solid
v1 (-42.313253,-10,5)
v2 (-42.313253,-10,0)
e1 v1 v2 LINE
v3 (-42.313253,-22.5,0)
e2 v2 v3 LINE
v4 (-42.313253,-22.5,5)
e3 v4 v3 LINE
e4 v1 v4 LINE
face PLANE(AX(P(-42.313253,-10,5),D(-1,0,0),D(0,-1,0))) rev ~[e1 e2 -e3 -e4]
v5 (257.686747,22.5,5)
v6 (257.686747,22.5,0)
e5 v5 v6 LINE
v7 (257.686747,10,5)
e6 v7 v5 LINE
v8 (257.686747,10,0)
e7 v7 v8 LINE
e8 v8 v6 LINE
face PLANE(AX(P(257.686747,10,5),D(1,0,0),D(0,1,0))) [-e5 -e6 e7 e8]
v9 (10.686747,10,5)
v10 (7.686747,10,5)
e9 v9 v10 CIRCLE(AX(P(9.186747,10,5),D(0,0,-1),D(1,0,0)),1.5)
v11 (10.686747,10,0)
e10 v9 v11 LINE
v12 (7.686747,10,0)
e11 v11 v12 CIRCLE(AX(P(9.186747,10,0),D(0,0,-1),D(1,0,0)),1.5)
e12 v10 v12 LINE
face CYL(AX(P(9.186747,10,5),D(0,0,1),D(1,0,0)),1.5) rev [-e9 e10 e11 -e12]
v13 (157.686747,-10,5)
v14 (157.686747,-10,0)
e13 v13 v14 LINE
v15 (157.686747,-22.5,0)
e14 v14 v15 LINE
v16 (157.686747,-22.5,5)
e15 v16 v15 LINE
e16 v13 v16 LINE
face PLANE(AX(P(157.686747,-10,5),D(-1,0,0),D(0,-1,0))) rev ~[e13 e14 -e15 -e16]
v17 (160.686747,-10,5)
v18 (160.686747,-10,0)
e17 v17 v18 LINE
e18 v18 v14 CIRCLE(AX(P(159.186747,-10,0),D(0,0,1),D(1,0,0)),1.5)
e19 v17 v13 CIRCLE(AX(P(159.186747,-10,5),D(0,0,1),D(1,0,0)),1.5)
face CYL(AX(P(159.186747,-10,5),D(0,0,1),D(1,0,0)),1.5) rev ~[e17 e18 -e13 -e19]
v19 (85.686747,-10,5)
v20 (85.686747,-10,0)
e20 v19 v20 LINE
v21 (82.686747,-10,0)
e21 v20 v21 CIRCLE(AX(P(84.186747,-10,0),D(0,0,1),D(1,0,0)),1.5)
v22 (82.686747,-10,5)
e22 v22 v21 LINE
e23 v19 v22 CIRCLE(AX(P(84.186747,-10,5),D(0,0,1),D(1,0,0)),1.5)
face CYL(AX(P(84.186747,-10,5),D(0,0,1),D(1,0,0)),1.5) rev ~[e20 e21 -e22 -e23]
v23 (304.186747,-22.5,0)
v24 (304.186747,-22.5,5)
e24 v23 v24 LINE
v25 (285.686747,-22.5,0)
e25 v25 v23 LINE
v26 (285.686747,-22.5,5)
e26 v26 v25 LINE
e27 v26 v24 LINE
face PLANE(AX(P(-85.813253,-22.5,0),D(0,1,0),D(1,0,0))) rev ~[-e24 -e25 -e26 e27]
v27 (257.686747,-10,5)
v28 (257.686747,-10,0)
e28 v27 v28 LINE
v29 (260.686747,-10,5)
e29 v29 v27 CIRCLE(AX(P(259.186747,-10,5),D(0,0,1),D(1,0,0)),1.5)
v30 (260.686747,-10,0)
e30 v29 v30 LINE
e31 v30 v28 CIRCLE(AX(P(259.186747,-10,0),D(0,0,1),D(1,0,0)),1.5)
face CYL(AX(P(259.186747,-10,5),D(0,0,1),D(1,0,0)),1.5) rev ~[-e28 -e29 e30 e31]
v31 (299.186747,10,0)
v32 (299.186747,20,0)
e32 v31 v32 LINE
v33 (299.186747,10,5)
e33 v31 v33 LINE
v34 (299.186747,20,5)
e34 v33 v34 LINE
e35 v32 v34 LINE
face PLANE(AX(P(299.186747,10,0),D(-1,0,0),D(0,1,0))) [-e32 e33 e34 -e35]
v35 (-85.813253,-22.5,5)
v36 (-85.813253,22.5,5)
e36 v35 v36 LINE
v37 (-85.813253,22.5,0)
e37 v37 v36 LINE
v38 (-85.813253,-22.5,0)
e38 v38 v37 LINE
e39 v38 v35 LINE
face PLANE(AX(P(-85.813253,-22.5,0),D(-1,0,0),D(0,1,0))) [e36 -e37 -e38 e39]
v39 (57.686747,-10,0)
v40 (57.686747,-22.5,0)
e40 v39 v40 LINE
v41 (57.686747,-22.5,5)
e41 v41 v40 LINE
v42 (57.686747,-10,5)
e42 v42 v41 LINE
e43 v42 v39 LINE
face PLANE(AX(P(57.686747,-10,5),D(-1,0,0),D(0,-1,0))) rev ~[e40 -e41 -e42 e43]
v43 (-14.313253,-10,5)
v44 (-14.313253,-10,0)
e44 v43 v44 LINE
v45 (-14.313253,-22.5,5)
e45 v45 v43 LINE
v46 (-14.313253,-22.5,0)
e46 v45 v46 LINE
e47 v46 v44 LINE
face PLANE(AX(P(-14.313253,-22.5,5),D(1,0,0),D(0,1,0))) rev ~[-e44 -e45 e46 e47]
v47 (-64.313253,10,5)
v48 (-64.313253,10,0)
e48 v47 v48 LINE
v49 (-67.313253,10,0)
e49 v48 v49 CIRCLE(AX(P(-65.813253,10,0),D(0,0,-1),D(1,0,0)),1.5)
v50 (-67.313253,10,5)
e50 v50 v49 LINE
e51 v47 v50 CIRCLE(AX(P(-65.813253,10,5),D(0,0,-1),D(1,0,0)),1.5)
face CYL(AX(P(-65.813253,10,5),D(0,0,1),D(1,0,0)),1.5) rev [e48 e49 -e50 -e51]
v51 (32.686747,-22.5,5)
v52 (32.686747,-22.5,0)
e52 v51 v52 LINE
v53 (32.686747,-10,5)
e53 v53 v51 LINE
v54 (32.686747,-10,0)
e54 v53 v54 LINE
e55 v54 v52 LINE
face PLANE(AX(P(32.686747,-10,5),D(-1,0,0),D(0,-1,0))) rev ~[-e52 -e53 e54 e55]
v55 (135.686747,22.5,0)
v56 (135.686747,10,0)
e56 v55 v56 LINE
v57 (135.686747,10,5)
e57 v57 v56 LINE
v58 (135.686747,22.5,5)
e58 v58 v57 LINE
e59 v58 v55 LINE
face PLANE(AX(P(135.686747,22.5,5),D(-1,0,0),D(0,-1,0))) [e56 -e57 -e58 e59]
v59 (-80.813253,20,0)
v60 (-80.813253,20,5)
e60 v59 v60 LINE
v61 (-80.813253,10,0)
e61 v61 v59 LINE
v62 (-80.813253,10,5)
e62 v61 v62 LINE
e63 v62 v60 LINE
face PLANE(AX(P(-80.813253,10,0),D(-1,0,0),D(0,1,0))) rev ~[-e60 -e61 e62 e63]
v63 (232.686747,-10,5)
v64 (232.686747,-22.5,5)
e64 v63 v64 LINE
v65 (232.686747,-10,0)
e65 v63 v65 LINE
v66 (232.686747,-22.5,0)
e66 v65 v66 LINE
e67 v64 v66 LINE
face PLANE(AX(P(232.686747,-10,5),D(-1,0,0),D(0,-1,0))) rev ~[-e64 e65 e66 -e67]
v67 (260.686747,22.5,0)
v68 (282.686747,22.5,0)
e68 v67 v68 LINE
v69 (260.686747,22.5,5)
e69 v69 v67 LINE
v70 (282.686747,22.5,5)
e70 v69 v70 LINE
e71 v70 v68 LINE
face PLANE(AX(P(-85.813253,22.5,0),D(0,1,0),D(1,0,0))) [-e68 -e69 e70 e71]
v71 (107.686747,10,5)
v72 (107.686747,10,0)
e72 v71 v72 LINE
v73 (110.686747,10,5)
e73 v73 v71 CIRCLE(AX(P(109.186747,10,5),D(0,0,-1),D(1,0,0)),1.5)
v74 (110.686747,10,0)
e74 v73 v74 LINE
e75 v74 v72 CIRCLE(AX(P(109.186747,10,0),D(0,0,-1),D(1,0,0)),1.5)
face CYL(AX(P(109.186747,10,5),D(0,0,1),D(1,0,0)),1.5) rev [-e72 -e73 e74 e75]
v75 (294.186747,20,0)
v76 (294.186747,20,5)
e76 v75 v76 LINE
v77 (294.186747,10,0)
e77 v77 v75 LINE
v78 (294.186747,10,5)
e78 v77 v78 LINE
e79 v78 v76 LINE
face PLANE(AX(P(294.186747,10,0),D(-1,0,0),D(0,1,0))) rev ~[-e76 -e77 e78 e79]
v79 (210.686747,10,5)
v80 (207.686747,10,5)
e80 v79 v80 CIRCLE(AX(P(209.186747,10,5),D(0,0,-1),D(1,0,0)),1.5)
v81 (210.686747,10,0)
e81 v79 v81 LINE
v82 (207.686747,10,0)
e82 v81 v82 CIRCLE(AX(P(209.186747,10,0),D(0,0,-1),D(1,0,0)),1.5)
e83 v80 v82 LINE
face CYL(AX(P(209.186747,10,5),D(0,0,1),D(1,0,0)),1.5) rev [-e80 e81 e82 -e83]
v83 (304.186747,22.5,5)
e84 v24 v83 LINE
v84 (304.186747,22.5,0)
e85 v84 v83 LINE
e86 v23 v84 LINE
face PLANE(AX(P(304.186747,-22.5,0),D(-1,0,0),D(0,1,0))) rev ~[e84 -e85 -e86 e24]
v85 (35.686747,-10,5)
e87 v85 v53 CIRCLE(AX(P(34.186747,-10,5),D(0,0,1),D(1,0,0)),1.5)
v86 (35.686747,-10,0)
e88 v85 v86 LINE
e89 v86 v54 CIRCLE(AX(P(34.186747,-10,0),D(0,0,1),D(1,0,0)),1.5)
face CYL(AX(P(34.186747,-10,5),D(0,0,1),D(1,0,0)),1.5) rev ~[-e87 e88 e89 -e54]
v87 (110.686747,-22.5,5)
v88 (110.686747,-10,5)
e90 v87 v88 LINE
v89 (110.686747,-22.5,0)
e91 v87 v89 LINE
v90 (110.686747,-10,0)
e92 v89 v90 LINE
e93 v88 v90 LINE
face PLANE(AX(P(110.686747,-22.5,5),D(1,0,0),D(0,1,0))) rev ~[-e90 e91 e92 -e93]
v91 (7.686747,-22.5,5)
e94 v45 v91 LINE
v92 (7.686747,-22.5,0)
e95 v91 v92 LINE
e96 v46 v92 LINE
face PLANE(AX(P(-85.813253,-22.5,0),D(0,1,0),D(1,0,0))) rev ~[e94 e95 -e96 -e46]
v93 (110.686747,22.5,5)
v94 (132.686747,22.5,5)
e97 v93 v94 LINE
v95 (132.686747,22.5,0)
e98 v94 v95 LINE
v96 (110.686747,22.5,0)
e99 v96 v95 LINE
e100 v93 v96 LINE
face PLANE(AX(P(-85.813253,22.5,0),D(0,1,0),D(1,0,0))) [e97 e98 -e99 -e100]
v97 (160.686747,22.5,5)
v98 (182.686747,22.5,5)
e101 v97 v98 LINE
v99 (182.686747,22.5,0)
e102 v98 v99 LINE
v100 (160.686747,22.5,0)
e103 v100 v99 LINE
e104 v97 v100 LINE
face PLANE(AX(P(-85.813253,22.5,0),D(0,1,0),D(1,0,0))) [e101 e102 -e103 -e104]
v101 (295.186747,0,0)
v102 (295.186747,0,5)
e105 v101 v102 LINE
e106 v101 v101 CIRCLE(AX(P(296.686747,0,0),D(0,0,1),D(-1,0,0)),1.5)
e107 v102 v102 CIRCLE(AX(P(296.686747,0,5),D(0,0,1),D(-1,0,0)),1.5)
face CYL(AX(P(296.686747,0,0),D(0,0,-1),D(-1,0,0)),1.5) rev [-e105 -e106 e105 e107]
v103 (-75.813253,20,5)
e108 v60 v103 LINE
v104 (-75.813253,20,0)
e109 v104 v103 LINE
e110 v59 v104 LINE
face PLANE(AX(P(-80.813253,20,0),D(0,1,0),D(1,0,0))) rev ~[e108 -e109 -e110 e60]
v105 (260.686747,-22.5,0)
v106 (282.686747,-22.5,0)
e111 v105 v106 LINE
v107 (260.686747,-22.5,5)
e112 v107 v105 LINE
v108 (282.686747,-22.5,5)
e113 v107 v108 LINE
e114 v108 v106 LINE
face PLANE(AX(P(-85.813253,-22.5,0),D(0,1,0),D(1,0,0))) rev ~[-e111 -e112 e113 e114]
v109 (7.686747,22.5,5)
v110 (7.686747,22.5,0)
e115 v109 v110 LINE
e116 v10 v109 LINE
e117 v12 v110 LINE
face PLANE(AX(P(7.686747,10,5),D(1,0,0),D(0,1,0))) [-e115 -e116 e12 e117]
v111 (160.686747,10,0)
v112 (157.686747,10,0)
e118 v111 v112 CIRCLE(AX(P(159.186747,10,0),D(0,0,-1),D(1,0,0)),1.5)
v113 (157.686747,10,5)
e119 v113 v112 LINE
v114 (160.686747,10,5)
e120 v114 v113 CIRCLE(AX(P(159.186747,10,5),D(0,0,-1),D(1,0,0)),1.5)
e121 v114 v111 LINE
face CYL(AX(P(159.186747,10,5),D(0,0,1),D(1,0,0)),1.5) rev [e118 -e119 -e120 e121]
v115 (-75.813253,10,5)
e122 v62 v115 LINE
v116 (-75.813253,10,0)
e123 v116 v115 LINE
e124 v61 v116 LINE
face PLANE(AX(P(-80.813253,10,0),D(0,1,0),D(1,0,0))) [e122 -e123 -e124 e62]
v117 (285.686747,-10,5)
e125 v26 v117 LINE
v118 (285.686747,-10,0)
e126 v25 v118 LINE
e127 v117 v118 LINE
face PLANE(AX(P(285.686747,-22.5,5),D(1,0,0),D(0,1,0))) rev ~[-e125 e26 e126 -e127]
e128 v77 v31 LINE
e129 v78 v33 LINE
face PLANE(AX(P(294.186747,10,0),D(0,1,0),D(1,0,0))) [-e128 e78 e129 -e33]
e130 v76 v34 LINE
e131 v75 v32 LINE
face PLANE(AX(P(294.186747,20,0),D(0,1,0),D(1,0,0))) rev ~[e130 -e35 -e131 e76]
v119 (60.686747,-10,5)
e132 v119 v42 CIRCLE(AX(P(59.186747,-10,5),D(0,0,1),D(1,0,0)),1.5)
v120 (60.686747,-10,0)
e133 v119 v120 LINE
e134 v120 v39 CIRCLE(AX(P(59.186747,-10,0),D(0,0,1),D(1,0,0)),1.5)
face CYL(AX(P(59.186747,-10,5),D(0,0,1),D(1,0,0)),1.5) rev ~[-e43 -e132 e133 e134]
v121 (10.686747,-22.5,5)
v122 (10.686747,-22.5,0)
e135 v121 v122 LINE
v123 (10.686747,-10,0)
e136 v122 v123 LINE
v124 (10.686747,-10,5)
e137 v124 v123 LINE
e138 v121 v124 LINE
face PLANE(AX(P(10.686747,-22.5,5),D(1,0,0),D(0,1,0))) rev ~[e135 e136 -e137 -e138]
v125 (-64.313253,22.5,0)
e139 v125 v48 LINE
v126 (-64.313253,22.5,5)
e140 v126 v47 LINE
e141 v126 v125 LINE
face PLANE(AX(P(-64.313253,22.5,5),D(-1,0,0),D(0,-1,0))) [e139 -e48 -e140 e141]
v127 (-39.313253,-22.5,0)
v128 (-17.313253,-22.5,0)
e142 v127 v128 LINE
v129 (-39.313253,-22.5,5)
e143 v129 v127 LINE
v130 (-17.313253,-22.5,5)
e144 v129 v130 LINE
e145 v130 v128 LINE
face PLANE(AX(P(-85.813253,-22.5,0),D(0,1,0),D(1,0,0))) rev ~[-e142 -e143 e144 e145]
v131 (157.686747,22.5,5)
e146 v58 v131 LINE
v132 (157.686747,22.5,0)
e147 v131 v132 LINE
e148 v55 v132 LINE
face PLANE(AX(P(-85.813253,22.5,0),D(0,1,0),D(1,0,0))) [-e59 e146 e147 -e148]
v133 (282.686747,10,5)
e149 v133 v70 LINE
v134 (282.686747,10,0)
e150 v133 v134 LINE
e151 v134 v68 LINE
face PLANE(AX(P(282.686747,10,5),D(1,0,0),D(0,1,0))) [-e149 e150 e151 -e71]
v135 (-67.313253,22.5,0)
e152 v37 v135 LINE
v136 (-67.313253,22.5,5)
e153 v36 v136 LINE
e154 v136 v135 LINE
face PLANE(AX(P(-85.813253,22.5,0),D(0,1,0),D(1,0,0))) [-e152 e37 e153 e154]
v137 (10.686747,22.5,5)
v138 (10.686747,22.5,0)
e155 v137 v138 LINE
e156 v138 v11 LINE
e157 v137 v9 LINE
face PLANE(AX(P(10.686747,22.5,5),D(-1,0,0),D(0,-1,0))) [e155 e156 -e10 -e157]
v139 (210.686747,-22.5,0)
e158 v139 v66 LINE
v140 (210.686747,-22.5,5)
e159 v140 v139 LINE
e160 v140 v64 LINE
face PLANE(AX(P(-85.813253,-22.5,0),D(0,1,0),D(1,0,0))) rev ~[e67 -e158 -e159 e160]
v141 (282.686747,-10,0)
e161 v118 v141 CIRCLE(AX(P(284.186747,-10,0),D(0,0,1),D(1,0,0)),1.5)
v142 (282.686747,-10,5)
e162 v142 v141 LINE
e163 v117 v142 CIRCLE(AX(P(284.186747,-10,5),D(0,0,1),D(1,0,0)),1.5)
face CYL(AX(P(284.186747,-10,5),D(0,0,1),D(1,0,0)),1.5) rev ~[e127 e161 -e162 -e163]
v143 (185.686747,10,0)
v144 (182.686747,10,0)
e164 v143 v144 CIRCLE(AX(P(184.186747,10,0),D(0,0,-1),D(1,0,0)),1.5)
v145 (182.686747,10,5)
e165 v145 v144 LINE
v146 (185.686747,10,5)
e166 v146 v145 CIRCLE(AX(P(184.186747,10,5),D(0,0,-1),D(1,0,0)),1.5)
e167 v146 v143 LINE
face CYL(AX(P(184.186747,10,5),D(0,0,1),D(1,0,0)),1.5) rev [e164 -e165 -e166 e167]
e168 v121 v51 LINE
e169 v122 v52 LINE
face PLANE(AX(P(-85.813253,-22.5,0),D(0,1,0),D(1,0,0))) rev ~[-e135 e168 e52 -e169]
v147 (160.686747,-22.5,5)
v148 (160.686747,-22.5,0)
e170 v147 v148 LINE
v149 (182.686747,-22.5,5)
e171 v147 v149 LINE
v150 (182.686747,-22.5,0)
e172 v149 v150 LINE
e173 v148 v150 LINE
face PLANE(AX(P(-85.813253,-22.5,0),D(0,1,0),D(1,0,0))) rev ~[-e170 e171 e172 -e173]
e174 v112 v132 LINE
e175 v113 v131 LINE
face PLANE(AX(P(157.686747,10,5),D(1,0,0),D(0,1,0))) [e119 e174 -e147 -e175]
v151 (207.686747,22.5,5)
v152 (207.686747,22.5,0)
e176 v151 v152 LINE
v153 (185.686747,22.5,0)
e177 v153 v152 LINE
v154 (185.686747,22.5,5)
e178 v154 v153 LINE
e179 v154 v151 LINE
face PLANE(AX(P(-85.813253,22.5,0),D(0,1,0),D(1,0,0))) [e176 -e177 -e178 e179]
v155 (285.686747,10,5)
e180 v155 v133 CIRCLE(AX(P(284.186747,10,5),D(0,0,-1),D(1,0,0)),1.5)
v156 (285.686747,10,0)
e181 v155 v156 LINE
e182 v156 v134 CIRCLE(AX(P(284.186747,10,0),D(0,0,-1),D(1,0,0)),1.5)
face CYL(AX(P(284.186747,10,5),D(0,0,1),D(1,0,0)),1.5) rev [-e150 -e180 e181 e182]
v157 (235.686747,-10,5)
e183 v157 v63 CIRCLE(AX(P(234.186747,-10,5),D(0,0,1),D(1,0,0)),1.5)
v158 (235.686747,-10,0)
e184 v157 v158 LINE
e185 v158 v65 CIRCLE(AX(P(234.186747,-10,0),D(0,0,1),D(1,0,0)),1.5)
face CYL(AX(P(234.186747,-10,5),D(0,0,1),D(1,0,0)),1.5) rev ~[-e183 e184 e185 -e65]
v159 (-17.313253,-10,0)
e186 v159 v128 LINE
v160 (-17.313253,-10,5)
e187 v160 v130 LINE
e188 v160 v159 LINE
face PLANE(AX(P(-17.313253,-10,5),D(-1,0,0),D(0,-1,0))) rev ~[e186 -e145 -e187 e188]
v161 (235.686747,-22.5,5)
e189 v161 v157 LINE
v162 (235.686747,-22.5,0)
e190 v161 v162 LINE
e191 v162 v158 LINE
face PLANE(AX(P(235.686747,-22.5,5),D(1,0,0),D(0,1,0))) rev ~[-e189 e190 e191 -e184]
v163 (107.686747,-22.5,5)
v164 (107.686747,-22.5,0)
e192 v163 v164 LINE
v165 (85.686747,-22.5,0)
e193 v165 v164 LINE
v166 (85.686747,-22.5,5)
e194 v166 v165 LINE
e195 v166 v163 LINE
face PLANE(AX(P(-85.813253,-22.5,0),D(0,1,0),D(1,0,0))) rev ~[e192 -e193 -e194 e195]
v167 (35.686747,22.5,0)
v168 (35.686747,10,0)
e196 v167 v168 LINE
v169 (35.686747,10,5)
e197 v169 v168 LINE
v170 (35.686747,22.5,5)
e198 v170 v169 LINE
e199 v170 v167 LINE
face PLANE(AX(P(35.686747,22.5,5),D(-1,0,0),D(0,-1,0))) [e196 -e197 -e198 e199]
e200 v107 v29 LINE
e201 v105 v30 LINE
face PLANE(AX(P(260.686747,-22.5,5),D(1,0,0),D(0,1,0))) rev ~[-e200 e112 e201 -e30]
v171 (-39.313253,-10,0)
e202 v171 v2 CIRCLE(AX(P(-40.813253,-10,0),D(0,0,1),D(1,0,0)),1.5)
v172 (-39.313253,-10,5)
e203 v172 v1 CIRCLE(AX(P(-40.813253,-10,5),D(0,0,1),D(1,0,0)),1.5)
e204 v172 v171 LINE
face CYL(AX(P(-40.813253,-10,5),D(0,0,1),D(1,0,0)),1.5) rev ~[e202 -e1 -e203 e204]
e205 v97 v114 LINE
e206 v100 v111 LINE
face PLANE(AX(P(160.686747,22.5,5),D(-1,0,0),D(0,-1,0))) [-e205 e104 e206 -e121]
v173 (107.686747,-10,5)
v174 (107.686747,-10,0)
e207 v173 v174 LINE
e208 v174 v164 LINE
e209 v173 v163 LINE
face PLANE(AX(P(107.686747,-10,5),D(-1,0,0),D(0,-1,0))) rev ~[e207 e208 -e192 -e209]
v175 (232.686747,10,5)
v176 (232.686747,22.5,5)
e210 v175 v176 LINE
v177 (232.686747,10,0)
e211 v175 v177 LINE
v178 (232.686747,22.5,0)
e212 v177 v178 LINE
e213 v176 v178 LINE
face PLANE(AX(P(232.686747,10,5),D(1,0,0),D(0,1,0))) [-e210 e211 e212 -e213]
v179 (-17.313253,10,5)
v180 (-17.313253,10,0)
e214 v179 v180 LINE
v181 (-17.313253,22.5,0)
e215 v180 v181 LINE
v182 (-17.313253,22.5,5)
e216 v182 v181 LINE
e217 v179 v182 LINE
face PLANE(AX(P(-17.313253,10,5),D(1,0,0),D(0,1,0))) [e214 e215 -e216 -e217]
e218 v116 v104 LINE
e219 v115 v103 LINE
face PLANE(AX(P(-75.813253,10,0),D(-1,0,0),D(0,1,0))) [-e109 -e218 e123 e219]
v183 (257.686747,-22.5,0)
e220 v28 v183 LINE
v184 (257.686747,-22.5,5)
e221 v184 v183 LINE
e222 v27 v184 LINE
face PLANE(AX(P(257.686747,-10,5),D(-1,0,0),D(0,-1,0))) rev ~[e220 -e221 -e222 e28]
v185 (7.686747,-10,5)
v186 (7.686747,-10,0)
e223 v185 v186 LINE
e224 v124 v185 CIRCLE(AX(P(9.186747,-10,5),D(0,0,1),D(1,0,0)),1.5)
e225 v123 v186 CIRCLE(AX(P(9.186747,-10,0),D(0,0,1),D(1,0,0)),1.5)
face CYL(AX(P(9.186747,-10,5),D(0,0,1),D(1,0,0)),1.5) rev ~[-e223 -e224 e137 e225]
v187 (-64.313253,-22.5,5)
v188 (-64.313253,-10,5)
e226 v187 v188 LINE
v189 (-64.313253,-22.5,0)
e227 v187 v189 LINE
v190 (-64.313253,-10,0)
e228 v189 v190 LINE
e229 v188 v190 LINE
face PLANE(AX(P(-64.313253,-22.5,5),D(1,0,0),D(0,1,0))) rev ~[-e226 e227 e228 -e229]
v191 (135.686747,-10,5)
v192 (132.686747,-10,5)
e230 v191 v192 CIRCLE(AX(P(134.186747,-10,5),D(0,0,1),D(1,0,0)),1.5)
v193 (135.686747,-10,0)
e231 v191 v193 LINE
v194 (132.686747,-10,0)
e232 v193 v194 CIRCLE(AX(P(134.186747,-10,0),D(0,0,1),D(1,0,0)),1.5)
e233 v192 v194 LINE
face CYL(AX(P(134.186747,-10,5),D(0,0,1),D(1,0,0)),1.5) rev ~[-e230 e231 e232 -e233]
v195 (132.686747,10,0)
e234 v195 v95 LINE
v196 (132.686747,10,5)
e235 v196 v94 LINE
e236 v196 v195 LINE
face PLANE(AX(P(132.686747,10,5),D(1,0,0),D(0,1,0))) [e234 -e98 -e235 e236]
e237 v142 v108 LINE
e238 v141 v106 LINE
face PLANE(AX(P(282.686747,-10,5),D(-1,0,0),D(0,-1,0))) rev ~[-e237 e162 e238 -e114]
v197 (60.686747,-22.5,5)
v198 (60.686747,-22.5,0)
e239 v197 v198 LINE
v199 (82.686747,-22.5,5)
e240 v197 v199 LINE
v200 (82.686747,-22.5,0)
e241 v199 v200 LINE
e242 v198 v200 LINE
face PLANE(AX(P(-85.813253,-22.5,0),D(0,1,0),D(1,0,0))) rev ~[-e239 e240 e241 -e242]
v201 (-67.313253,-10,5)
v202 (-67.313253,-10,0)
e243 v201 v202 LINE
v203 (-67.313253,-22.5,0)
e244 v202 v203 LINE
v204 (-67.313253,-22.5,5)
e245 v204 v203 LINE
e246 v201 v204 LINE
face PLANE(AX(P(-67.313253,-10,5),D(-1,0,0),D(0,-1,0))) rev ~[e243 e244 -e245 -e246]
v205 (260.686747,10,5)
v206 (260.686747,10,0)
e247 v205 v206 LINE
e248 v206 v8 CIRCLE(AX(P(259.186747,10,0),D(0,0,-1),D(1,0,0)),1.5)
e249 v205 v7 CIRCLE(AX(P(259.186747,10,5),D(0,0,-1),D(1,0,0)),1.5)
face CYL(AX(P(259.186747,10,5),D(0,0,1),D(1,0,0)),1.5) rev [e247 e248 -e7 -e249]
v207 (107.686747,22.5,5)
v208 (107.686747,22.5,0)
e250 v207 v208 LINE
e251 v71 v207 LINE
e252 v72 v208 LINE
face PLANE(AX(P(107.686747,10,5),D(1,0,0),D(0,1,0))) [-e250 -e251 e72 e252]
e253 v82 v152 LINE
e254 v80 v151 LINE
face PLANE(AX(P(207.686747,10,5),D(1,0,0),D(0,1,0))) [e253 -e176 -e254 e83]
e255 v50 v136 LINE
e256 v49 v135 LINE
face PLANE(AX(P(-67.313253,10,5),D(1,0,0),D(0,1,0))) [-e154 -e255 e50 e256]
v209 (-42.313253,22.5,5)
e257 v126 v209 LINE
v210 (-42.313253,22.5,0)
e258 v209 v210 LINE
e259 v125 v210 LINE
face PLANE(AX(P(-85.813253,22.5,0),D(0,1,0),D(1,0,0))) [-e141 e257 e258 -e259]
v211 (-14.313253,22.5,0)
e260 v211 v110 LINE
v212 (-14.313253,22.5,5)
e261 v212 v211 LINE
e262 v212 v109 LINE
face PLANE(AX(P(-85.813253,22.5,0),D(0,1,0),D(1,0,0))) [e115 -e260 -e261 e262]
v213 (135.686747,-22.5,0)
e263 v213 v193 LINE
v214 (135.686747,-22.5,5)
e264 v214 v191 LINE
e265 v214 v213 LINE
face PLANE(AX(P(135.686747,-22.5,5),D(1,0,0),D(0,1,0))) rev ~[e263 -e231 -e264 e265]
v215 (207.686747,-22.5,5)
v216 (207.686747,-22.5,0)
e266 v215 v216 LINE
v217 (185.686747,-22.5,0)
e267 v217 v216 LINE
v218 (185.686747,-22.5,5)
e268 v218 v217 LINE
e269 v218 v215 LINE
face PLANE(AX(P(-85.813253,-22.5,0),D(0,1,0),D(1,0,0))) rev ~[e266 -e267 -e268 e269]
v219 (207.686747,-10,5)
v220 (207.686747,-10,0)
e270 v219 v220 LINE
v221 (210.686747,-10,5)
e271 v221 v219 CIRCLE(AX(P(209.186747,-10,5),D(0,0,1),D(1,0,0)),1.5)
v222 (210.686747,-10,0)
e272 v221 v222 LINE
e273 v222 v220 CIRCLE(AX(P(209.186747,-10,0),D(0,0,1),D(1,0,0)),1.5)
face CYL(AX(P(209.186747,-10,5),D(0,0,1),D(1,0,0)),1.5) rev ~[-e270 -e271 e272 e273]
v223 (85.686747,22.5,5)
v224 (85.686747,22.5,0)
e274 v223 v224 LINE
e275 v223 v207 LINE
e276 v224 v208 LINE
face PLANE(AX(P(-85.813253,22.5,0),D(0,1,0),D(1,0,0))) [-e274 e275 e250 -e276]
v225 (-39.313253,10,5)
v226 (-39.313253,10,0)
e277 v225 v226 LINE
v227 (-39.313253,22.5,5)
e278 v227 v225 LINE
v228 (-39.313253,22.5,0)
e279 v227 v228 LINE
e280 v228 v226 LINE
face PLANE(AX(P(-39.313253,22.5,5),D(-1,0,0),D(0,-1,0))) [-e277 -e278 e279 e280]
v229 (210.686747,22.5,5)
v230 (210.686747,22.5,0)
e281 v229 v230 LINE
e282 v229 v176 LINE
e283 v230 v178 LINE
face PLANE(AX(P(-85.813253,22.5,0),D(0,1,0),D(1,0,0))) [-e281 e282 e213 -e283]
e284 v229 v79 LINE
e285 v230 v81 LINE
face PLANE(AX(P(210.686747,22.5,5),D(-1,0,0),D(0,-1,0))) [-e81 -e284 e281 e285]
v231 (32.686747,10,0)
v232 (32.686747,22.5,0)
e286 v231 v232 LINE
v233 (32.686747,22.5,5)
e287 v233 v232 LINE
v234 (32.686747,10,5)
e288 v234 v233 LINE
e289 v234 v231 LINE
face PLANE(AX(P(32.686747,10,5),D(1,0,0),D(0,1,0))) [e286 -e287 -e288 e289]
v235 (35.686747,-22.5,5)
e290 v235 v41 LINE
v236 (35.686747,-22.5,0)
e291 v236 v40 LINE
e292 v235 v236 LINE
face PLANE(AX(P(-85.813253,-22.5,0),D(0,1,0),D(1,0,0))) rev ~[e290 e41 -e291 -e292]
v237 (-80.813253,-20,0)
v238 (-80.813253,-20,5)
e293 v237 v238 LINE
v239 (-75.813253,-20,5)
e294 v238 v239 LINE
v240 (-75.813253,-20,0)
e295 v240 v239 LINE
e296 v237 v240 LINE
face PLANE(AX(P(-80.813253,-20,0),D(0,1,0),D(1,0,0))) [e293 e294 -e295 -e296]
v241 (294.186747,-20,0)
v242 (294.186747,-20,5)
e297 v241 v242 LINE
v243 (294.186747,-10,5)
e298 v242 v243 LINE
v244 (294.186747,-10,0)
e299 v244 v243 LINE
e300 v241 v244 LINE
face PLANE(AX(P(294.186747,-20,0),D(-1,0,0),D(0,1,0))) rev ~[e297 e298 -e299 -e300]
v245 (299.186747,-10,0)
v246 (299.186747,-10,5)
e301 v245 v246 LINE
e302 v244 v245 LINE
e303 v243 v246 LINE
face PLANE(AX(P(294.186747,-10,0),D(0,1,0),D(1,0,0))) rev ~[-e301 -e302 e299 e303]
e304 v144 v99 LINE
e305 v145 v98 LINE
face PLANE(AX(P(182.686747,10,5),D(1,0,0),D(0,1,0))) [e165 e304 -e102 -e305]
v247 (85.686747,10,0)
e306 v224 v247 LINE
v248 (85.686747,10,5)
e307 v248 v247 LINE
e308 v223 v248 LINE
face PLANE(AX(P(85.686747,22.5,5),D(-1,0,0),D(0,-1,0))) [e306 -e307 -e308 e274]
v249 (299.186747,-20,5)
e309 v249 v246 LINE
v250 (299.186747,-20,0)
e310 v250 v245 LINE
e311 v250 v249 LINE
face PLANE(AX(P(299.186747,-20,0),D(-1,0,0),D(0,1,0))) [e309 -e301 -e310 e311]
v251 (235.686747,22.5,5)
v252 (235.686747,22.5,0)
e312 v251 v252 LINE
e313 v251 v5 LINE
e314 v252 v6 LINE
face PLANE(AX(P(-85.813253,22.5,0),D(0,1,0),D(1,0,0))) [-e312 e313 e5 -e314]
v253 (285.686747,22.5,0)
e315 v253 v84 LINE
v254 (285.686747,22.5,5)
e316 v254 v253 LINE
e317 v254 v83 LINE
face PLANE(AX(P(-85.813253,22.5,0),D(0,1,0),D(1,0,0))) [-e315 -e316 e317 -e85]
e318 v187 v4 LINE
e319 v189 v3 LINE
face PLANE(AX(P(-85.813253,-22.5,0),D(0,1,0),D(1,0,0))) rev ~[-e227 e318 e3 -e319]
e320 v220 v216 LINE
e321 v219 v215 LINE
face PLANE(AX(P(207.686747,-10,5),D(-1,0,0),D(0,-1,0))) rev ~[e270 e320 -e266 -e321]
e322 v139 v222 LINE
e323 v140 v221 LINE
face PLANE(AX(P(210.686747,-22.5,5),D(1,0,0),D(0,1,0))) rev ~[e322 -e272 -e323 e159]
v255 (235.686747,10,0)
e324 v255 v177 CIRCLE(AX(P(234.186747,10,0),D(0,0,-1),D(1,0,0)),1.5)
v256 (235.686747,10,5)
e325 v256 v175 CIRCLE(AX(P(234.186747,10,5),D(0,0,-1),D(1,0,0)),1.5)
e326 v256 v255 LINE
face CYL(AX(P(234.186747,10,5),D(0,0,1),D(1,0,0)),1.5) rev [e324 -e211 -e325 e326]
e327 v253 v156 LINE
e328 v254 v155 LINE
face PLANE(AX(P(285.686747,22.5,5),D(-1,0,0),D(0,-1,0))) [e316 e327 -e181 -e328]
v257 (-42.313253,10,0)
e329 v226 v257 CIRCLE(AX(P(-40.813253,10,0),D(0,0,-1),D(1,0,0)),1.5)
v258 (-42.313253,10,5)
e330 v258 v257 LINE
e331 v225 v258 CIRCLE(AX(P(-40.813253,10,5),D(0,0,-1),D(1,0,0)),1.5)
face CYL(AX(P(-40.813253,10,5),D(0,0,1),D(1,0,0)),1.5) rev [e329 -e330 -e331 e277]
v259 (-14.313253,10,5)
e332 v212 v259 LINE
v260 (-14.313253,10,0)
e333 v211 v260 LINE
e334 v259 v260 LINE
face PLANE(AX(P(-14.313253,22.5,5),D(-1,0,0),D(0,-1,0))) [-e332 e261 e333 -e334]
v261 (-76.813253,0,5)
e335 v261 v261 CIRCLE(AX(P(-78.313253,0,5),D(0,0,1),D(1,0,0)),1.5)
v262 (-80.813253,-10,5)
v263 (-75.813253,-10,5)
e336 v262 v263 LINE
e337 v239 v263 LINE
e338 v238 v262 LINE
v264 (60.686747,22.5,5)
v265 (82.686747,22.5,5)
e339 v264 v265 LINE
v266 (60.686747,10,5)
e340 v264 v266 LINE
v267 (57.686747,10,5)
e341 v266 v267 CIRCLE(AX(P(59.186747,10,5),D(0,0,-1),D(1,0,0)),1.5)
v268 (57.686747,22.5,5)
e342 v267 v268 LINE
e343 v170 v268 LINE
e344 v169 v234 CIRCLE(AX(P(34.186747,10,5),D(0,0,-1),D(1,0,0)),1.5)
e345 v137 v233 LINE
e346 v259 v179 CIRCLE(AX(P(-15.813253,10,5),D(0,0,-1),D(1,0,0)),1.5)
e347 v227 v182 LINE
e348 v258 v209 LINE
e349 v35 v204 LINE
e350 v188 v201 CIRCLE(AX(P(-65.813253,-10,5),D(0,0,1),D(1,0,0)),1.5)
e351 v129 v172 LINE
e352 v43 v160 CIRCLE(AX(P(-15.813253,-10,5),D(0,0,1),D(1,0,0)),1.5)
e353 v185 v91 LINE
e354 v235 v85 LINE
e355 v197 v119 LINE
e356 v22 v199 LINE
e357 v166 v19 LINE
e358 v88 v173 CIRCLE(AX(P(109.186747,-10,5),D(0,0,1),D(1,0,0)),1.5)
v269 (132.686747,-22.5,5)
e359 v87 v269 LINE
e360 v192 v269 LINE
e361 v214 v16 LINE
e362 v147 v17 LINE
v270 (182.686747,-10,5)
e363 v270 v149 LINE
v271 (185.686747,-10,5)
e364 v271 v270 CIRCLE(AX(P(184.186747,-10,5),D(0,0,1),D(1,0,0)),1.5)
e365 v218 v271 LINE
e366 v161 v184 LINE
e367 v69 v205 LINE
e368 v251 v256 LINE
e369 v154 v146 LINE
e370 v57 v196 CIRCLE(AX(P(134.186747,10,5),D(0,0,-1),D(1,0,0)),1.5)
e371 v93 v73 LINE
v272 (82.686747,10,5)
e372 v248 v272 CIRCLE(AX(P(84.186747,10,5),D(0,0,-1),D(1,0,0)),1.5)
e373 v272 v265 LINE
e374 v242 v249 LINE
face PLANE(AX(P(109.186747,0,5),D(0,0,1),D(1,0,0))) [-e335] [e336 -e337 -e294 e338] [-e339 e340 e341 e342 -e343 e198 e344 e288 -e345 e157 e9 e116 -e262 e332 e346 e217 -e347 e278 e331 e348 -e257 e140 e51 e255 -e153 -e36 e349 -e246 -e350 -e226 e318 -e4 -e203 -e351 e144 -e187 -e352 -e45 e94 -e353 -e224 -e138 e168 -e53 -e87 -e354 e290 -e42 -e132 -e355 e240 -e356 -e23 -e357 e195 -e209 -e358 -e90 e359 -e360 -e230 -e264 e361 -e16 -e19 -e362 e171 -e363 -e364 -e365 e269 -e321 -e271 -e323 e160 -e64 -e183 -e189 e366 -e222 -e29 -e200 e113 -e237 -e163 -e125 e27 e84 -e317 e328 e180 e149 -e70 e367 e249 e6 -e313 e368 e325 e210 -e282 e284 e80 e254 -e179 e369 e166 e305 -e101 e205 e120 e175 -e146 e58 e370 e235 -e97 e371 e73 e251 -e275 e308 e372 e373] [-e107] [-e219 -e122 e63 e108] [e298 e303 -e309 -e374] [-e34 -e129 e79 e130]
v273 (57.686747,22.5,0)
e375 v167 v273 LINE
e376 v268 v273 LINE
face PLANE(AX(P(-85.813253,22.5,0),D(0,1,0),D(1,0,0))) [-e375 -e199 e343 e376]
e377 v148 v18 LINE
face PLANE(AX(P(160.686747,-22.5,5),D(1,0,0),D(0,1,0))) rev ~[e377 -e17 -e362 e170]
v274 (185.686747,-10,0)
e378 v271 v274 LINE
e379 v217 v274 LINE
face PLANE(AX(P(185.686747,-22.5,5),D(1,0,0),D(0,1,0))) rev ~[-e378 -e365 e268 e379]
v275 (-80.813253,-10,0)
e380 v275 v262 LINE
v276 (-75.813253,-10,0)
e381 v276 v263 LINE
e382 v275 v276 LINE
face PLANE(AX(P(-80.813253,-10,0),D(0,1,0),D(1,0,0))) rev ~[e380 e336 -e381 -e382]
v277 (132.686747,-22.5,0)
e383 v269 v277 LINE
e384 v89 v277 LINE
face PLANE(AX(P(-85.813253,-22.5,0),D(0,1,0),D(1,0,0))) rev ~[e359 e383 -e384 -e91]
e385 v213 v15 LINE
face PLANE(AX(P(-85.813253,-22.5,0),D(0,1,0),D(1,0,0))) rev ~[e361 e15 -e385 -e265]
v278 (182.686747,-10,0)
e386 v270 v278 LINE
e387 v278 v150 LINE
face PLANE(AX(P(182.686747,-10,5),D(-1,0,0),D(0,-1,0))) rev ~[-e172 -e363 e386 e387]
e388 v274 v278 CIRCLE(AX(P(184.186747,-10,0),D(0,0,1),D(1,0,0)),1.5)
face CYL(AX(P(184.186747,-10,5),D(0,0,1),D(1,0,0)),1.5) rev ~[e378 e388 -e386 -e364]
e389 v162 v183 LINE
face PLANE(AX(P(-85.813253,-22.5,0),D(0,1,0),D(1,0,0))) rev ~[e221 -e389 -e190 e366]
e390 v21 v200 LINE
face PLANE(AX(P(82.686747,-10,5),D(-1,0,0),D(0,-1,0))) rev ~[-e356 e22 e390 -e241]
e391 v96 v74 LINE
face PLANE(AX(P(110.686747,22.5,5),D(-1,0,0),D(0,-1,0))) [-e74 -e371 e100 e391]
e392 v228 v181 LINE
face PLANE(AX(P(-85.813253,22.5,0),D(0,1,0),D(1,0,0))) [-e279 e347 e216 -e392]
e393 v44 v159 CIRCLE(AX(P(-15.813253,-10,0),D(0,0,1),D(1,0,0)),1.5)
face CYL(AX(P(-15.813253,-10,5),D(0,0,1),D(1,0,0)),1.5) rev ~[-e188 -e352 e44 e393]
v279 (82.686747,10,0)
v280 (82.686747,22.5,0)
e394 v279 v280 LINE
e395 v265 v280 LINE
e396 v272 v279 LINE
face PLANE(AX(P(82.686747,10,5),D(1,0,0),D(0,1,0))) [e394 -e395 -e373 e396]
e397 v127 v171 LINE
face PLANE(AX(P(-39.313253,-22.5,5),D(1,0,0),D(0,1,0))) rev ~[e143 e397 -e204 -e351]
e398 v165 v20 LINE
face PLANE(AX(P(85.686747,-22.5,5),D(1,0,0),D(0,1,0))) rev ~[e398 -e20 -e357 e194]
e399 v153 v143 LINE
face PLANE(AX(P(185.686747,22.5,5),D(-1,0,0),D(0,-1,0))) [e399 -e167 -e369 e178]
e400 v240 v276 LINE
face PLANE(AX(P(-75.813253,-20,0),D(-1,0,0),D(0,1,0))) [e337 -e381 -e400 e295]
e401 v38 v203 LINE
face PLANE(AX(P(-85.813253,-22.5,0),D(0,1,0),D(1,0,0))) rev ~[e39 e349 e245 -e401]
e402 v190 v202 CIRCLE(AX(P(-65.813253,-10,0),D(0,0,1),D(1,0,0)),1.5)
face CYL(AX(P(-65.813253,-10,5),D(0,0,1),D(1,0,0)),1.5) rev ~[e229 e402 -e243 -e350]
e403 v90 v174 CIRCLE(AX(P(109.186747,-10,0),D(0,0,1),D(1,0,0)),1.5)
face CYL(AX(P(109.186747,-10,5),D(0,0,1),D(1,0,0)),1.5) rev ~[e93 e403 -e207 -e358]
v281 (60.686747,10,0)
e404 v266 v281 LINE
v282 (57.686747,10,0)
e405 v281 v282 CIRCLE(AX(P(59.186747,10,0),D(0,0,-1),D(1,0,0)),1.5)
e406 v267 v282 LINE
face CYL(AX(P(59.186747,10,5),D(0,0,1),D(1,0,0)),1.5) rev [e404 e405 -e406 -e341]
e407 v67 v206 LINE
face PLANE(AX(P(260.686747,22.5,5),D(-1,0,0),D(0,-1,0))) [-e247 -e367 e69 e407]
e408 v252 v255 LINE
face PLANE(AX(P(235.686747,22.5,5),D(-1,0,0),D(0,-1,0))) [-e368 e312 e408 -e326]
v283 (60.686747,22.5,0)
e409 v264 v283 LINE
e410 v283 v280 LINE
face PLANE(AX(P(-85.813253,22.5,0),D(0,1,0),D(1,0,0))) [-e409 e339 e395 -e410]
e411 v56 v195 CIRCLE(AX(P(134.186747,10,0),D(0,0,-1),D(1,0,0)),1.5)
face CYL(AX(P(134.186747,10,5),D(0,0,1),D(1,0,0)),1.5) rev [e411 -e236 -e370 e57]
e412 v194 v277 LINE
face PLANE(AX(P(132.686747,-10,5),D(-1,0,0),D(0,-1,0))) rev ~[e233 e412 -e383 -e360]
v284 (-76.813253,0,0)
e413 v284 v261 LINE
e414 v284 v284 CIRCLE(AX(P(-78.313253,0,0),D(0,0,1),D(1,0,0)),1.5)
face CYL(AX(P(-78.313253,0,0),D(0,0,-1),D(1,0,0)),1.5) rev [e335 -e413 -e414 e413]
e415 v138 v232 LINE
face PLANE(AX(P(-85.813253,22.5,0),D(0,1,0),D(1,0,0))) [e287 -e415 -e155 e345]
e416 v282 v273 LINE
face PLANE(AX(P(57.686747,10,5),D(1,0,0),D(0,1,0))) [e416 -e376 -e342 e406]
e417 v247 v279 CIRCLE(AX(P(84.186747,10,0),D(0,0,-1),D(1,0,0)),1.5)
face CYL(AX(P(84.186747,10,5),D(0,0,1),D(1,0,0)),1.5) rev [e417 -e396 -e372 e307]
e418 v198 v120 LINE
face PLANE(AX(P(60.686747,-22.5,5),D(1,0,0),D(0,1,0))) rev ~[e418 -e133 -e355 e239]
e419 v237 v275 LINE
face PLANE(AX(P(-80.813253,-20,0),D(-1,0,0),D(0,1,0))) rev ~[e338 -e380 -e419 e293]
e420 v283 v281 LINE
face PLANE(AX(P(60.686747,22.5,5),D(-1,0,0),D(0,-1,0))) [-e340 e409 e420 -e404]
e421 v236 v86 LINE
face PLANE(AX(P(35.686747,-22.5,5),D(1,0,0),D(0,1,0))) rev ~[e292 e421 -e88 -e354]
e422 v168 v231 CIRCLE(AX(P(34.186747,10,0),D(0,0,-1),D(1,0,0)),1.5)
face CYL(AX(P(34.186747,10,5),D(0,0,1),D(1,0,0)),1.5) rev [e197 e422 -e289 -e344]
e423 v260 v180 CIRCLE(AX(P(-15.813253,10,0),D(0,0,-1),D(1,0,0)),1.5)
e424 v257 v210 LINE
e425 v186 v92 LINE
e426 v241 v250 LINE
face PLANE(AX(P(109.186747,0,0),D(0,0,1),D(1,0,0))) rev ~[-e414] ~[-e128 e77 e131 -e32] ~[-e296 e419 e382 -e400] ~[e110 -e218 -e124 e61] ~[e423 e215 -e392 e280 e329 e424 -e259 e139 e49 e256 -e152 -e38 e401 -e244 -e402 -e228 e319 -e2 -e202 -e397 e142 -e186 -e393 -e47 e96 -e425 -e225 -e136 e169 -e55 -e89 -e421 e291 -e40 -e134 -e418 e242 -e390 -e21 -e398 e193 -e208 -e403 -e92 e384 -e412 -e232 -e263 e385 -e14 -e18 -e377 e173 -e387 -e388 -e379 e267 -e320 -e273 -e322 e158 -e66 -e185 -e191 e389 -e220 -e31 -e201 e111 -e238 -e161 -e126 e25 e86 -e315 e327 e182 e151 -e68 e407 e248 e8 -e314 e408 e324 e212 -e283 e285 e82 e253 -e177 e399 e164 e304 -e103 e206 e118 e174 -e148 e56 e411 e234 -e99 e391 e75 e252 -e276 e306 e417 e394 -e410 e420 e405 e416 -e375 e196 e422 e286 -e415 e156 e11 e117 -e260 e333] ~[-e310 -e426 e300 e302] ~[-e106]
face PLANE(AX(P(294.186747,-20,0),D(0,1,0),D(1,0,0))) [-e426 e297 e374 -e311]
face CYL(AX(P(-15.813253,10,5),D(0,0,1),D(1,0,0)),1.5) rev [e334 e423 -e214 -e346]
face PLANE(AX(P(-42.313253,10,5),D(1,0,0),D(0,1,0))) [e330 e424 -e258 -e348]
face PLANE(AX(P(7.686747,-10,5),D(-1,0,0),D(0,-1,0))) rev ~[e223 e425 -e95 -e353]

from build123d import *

# Parameters (mm, degrees)
SKETCH1_W           = 390
SKETCH1_H           = 45
SKETCH1_R           = 1.5
SKETCH1_W_2         = 5
SKETCH1_H_2         = 10
BOSS_EXTRUDE1_DEPTH = 5
CUT_EXTRUDE1_DEPTH  = 5


with BuildPart() as part:
    # Sketch1 → Boss-Extrude1 (new body)
    with BuildSketch(Plane.XY):
        with Locations((109.186746988, 0)):
            Rectangle(SKETCH1_W, SKETCH1_H)
        with Locations((-78.313253012, 0)):
            Circle(SKETCH1_R, mode=Mode.SUBTRACT)
        with Locations(Location((296.686746988, 0, 0), (0, 0, 180))):
            Circle(SKETCH1_R, mode=Mode.SUBTRACT)
        with Locations((-78.313253012, -15)):
            Rectangle(SKETCH1_W_2, SKETCH1_H_2, mode=Mode.SUBTRACT)
        with Locations((-78.313253012, 15)):
            Rectangle(SKETCH1_W_2, SKETCH1_H_2, mode=Mode.SUBTRACT)
        with Locations((296.686746988, -15)):
            Rectangle(SKETCH1_W_2, SKETCH1_H_2, mode=Mode.SUBTRACT)
        with Locations((296.686746988, 15)):
            Rectangle(SKETCH1_W_2, SKETCH1_H_2, mode=Mode.SUBTRACT)
    extrude(amount=BOSS_EXTRUDE1_DEPTH)

    # Sketch2 → Cut-Extrude1 (cut)
    with BuildSketch(Plane.XY.offset(5)):
        with BuildLine():
            Line((-67.313253012, 22.5), (-64.313253012, 22.5))
            Line((-64.313253012, 22.5), (-64.313253012, 10))
            ThreePointArc((-64.313253012, 10), (-65.813253012, 8.5), (-67.313253012, 10))
            Line((-67.313253012, 10), (-67.313253012, 22.5))
        make_face()
        with BuildLine():
            Line((-42.313253012, 22.5), (-39.313253012, 22.5))
            Line((-39.313253012, 22.5), (-39.313253012, 10))
            ThreePointArc((-39.313253012, 10), (-40.813253012, 8.5), (-42.313253012, 10))
            Line((-42.313253012, 10), (-42.313253012, 22.5))
        make_face()
        with BuildLine():
            Line((-17.313253012, 22.5), (-14.313253012, 22.5))
            Line((-14.313253012, 22.5), (-14.313253012, 10))
            ThreePointArc((-14.313253012, 10), (-15.813253012, 8.5), (-17.313253012, 10))
            Line((-17.313253012, 10), (-17.313253012, 22.5))
        make_face()
        with BuildLine():
            Line((7.686746988, 22.5), (10.686746988, 22.5))
            Line((10.686746988, 22.5), (10.686746988, 10))
            ThreePointArc((10.686746988, 10), (9.186746988, 8.5), (7.686746988, 10))
            Line((7.686746988, 10), (7.686746988, 22.5))
        make_face()
        with BuildLine():
            Line((32.686746988, 22.5), (35.686746988, 22.5))
            Line((35.686746988, 22.5), (35.686746988, 10))
            ThreePointArc((35.686746988, 10), (34.186746988, 8.5), (32.686746988, 10))
            Line((32.686746988, 10), (32.686746988, 22.5))
        make_face()
        with BuildLine():
            Line((57.686746988, 22.5), (60.686746988, 22.5))
            Line((60.686746988, 22.5), (60.686746988, 10))
            ThreePointArc((60.686746988, 10), (59.186746988, 8.5), (57.686746988, 10))
            Line((57.686746988, 10), (57.686746988, 22.5))
        make_face()
        with BuildLine():
            Line((82.686746988, 22.5), (85.686746988, 22.5))
            Line((85.686746988, 22.5), (85.686746988, 10))
            ThreePointArc((85.686746988, 10), (84.186746988, 8.5), (82.686746988, 10))
            Line((82.686746988, 10), (82.686746988, 22.5))
        make_face()
        with BuildLine():
            Line((107.686746988, 22.5), (110.686746988, 22.5))
            Line((110.686746988, 22.5), (110.686746988, 10))
            ThreePointArc((110.686746988, 10), (109.186746988, 8.5), (107.686746988, 10))
            Line((107.686746988, 10), (107.686746988, 22.5))
        make_face()
        with BuildLine():
            Line((132.686746988, 22.5), (135.686746988, 22.5))
            Line((135.686746988, 22.5), (135.686746988, 10))
            ThreePointArc((135.686746988, 10), (134.186746988, 8.5), (132.686746988, 10))
            Line((132.686746988, 10), (132.686746988, 22.5))
        make_face()
        with BuildLine():
            Line((157.686746988, 22.5), (160.686746988, 22.5))
            Line((160.686746988, 22.5), (160.686746988, 10))
            ThreePointArc((160.686746988, 10), (159.186746988, 8.5), (157.686746988, 10))
            Line((157.686746988, 10), (157.686746988, 22.5))
        make_face()
        with BuildLine():
            Line((182.686746988, 22.5), (185.686746988, 22.5))
            Line((185.686746988, 22.5), (185.686746988, 10))
            ThreePointArc((185.686746988, 10), (184.186746988, 8.5), (182.686746988, 10))
            Line((182.686746988, 10), (182.686746988, 22.5))
        make_face()
        with BuildLine():
            Line((207.686746988, 22.5), (210.686746988, 22.5))
            Line((210.686746988, 22.5), (210.686746988, 10))
            ThreePointArc((210.686746988, 10), (209.186746988, 8.5), (207.686746988, 10))
            Line((207.686746988, 10), (207.686746988, 22.5))
        make_face()
        with BuildLine():
            Line((232.686746988, 22.5), (235.686746988, 22.5))
            Line((235.686746988, 22.5), (235.686746988, 10))
            ThreePointArc((235.686746988, 10), (234.186746988, 8.5), (232.686746988, 10))
            Line((232.686746988, 10), (232.686746988, 22.5))
        make_face()
        with BuildLine():
            Line((257.686746988, 22.5), (260.686746988, 22.5))
            Line((260.686746988, 22.5), (260.686746988, 10))
            ThreePointArc((260.686746988, 10), (259.186746988, 8.5), (257.686746988, 10))
            Line((257.686746988, 10), (257.686746988, 22.5))
        make_face()
        with BuildLine():
            Line((282.686746988, 22.5), (285.686746988, 22.5))
            Line((285.686746988, 22.5), (285.686746988, 10))
            ThreePointArc((285.686746988, 10), (284.186746988, 8.5), (282.686746988, 10))
            Line((282.686746988, 10), (282.686746988, 22.5))
        make_face()
        with BuildLine():
            Line((285.686746988, -22.5), (285.686746988, -10))
            ThreePointArc((285.686746988, -10), (284.186746988, -8.5), (282.686746988, -10))
            Line((282.686746988, -10), (282.686746988, -22.5))
            Line((282.686746988, -22.5), (285.686746988, -22.5))
        make_face()
        with BuildLine():
            Line((260.686746988, -22.5), (260.686746988, -10))
            ThreePointArc((260.686746988, -10), (259.186746988, -8.5), (257.686746988, -10))
            Line((257.686746988, -10), (257.686746988, -22.5))
            Line((257.686746988, -22.5), (260.686746988, -22.5))
        make_face()
        with BuildLine():
            Line((235.686746988, -22.5), (235.686746988, -10))
            ThreePointArc((235.686746988, -10), (234.186746988, -8.5), (232.686746988, -10))
            Line((232.686746988, -10), (232.686746988, -22.5))
            Line((232.686746988, -22.5), (235.686746988, -22.5))
        make_face()
        with BuildLine():
            Line((210.686746988, -22.5), (210.686746988, -10))
            ThreePointArc((210.686746988, -10), (209.186746988, -8.5), (207.686746988, -10))
            Line((207.686746988, -10), (207.686746988, -22.5))
            Line((207.686746988, -22.5), (210.686746988, -22.5))
        make_face()
        with BuildLine():
            Line((185.686746988, -22.5), (185.686746988, -10))
            ThreePointArc((185.686746988, -10), (184.186746988, -8.5), (182.686746988, -10))
            Line((182.686746988, -10), (182.686746988, -22.5))
            Line((182.686746988, -22.5), (185.686746988, -22.5))
        make_face()
        with BuildLine():
            Line((160.686746988, -22.5), (160.686746988, -10))
            ThreePointArc((160.686746988, -10), (159.186746988, -8.5), (157.686746988, -10))
            Line((157.686746988, -10), (157.686746988, -22.5))
            Line((157.686746988, -22.5), (160.686746988, -22.5))
        make_face()
        with BuildLine():
            Line((135.686746988, -22.5), (135.686746988, -10))
            ThreePointArc((135.686746988, -10), (134.186746988, -8.5), (132.686746988, -10))
            Line((132.686746988, -10), (132.686746988, -22.5))
            Line((132.686746988, -22.5), (135.686746988, -22.5))
        make_face()
        with BuildLine():
            Line((110.686746988, -22.5), (110.686746988, -10))
            ThreePointArc((110.686746988, -10), (109.186746988, -8.5), (107.686746988, -10))
            Line((107.686746988, -10), (107.686746988, -22.5))
            Line((107.686746988, -22.5), (110.686746988, -22.5))
        make_face()
        with BuildLine():
            Line((85.686746988, -22.5), (85.686746988, -10))
            ThreePointArc((85.686746988, -10), (84.186746988, -8.5), (82.686746988, -10))
            Line((82.686746988, -10), (82.686746988, -22.5))
            Line((82.686746988, -22.5), (85.686746988, -22.5))
        make_face()
        with BuildLine():
            Line((60.686746988, -22.5), (60.686746988, -10))
            ThreePointArc((60.686746988, -10), (59.186746988, -8.5), (57.686746988, -10))
            Line((57.686746988, -10), (57.686746988, -22.5))
            Line((57.686746988, -22.5), (60.686746988, -22.5))
        make_face()
        with BuildLine():
            Line((35.686746988, -22.5), (35.686746988, -10))
            ThreePointArc((35.686746988, -10), (34.186746988, -8.5), (32.686746988, -10))
            Line((32.686746988, -10), (32.686746988, -22.5))
            Line((32.686746988, -22.5), (35.686746988, -22.5))
        make_face()
        with BuildLine():
            Line((10.686746988, -22.5), (10.686746988, -10))
            ThreePointArc((10.686746988, -10), (9.186746988, -8.5), (7.686746988, -10))
            Line((7.686746988, -10), (7.686746988, -22.5))
            Line((7.686746988, -22.5), (10.686746988, -22.5))
        make_face()
        with BuildLine():
            Line((-14.313253012, -22.5), (-14.313253012, -10))
            ThreePointArc((-14.313253012, -10), (-15.813253012, -8.5), (-17.313253012, -10))
            Line((-17.313253012, -10), (-17.313253012, -22.5))
            Line((-17.313253012, -22.5), (-14.313253012, -22.5))
        make_face()
        with BuildLine():
            Line((-39.313253012, -22.5), (-39.313253012, -10))
            ThreePointArc((-39.313253012, -10), (-40.813253012, -8.5), (-42.313253012, -10))
            Line((-42.313253012, -10), (-42.313253012, -22.5))
            Line((-42.313253012, -22.5), (-39.313253012, -22.5))
        make_face()
        with BuildLine():
            Line((-64.313253012, -22.5), (-64.313253012, -10))
            ThreePointArc((-64.313253012, -10), (-65.813253012, -8.5), (-67.313253012, -10))
            Line((-67.313253012, -10), (-67.313253012, -22.5))
            Line((-67.313253012, -22.5), (-64.313253012, -22.5))
        make_face()
    extrude(amount=-CUT_EXTRUDE1_DEPTH, mode=Mode.SUBTRACT)


solid = part.part
